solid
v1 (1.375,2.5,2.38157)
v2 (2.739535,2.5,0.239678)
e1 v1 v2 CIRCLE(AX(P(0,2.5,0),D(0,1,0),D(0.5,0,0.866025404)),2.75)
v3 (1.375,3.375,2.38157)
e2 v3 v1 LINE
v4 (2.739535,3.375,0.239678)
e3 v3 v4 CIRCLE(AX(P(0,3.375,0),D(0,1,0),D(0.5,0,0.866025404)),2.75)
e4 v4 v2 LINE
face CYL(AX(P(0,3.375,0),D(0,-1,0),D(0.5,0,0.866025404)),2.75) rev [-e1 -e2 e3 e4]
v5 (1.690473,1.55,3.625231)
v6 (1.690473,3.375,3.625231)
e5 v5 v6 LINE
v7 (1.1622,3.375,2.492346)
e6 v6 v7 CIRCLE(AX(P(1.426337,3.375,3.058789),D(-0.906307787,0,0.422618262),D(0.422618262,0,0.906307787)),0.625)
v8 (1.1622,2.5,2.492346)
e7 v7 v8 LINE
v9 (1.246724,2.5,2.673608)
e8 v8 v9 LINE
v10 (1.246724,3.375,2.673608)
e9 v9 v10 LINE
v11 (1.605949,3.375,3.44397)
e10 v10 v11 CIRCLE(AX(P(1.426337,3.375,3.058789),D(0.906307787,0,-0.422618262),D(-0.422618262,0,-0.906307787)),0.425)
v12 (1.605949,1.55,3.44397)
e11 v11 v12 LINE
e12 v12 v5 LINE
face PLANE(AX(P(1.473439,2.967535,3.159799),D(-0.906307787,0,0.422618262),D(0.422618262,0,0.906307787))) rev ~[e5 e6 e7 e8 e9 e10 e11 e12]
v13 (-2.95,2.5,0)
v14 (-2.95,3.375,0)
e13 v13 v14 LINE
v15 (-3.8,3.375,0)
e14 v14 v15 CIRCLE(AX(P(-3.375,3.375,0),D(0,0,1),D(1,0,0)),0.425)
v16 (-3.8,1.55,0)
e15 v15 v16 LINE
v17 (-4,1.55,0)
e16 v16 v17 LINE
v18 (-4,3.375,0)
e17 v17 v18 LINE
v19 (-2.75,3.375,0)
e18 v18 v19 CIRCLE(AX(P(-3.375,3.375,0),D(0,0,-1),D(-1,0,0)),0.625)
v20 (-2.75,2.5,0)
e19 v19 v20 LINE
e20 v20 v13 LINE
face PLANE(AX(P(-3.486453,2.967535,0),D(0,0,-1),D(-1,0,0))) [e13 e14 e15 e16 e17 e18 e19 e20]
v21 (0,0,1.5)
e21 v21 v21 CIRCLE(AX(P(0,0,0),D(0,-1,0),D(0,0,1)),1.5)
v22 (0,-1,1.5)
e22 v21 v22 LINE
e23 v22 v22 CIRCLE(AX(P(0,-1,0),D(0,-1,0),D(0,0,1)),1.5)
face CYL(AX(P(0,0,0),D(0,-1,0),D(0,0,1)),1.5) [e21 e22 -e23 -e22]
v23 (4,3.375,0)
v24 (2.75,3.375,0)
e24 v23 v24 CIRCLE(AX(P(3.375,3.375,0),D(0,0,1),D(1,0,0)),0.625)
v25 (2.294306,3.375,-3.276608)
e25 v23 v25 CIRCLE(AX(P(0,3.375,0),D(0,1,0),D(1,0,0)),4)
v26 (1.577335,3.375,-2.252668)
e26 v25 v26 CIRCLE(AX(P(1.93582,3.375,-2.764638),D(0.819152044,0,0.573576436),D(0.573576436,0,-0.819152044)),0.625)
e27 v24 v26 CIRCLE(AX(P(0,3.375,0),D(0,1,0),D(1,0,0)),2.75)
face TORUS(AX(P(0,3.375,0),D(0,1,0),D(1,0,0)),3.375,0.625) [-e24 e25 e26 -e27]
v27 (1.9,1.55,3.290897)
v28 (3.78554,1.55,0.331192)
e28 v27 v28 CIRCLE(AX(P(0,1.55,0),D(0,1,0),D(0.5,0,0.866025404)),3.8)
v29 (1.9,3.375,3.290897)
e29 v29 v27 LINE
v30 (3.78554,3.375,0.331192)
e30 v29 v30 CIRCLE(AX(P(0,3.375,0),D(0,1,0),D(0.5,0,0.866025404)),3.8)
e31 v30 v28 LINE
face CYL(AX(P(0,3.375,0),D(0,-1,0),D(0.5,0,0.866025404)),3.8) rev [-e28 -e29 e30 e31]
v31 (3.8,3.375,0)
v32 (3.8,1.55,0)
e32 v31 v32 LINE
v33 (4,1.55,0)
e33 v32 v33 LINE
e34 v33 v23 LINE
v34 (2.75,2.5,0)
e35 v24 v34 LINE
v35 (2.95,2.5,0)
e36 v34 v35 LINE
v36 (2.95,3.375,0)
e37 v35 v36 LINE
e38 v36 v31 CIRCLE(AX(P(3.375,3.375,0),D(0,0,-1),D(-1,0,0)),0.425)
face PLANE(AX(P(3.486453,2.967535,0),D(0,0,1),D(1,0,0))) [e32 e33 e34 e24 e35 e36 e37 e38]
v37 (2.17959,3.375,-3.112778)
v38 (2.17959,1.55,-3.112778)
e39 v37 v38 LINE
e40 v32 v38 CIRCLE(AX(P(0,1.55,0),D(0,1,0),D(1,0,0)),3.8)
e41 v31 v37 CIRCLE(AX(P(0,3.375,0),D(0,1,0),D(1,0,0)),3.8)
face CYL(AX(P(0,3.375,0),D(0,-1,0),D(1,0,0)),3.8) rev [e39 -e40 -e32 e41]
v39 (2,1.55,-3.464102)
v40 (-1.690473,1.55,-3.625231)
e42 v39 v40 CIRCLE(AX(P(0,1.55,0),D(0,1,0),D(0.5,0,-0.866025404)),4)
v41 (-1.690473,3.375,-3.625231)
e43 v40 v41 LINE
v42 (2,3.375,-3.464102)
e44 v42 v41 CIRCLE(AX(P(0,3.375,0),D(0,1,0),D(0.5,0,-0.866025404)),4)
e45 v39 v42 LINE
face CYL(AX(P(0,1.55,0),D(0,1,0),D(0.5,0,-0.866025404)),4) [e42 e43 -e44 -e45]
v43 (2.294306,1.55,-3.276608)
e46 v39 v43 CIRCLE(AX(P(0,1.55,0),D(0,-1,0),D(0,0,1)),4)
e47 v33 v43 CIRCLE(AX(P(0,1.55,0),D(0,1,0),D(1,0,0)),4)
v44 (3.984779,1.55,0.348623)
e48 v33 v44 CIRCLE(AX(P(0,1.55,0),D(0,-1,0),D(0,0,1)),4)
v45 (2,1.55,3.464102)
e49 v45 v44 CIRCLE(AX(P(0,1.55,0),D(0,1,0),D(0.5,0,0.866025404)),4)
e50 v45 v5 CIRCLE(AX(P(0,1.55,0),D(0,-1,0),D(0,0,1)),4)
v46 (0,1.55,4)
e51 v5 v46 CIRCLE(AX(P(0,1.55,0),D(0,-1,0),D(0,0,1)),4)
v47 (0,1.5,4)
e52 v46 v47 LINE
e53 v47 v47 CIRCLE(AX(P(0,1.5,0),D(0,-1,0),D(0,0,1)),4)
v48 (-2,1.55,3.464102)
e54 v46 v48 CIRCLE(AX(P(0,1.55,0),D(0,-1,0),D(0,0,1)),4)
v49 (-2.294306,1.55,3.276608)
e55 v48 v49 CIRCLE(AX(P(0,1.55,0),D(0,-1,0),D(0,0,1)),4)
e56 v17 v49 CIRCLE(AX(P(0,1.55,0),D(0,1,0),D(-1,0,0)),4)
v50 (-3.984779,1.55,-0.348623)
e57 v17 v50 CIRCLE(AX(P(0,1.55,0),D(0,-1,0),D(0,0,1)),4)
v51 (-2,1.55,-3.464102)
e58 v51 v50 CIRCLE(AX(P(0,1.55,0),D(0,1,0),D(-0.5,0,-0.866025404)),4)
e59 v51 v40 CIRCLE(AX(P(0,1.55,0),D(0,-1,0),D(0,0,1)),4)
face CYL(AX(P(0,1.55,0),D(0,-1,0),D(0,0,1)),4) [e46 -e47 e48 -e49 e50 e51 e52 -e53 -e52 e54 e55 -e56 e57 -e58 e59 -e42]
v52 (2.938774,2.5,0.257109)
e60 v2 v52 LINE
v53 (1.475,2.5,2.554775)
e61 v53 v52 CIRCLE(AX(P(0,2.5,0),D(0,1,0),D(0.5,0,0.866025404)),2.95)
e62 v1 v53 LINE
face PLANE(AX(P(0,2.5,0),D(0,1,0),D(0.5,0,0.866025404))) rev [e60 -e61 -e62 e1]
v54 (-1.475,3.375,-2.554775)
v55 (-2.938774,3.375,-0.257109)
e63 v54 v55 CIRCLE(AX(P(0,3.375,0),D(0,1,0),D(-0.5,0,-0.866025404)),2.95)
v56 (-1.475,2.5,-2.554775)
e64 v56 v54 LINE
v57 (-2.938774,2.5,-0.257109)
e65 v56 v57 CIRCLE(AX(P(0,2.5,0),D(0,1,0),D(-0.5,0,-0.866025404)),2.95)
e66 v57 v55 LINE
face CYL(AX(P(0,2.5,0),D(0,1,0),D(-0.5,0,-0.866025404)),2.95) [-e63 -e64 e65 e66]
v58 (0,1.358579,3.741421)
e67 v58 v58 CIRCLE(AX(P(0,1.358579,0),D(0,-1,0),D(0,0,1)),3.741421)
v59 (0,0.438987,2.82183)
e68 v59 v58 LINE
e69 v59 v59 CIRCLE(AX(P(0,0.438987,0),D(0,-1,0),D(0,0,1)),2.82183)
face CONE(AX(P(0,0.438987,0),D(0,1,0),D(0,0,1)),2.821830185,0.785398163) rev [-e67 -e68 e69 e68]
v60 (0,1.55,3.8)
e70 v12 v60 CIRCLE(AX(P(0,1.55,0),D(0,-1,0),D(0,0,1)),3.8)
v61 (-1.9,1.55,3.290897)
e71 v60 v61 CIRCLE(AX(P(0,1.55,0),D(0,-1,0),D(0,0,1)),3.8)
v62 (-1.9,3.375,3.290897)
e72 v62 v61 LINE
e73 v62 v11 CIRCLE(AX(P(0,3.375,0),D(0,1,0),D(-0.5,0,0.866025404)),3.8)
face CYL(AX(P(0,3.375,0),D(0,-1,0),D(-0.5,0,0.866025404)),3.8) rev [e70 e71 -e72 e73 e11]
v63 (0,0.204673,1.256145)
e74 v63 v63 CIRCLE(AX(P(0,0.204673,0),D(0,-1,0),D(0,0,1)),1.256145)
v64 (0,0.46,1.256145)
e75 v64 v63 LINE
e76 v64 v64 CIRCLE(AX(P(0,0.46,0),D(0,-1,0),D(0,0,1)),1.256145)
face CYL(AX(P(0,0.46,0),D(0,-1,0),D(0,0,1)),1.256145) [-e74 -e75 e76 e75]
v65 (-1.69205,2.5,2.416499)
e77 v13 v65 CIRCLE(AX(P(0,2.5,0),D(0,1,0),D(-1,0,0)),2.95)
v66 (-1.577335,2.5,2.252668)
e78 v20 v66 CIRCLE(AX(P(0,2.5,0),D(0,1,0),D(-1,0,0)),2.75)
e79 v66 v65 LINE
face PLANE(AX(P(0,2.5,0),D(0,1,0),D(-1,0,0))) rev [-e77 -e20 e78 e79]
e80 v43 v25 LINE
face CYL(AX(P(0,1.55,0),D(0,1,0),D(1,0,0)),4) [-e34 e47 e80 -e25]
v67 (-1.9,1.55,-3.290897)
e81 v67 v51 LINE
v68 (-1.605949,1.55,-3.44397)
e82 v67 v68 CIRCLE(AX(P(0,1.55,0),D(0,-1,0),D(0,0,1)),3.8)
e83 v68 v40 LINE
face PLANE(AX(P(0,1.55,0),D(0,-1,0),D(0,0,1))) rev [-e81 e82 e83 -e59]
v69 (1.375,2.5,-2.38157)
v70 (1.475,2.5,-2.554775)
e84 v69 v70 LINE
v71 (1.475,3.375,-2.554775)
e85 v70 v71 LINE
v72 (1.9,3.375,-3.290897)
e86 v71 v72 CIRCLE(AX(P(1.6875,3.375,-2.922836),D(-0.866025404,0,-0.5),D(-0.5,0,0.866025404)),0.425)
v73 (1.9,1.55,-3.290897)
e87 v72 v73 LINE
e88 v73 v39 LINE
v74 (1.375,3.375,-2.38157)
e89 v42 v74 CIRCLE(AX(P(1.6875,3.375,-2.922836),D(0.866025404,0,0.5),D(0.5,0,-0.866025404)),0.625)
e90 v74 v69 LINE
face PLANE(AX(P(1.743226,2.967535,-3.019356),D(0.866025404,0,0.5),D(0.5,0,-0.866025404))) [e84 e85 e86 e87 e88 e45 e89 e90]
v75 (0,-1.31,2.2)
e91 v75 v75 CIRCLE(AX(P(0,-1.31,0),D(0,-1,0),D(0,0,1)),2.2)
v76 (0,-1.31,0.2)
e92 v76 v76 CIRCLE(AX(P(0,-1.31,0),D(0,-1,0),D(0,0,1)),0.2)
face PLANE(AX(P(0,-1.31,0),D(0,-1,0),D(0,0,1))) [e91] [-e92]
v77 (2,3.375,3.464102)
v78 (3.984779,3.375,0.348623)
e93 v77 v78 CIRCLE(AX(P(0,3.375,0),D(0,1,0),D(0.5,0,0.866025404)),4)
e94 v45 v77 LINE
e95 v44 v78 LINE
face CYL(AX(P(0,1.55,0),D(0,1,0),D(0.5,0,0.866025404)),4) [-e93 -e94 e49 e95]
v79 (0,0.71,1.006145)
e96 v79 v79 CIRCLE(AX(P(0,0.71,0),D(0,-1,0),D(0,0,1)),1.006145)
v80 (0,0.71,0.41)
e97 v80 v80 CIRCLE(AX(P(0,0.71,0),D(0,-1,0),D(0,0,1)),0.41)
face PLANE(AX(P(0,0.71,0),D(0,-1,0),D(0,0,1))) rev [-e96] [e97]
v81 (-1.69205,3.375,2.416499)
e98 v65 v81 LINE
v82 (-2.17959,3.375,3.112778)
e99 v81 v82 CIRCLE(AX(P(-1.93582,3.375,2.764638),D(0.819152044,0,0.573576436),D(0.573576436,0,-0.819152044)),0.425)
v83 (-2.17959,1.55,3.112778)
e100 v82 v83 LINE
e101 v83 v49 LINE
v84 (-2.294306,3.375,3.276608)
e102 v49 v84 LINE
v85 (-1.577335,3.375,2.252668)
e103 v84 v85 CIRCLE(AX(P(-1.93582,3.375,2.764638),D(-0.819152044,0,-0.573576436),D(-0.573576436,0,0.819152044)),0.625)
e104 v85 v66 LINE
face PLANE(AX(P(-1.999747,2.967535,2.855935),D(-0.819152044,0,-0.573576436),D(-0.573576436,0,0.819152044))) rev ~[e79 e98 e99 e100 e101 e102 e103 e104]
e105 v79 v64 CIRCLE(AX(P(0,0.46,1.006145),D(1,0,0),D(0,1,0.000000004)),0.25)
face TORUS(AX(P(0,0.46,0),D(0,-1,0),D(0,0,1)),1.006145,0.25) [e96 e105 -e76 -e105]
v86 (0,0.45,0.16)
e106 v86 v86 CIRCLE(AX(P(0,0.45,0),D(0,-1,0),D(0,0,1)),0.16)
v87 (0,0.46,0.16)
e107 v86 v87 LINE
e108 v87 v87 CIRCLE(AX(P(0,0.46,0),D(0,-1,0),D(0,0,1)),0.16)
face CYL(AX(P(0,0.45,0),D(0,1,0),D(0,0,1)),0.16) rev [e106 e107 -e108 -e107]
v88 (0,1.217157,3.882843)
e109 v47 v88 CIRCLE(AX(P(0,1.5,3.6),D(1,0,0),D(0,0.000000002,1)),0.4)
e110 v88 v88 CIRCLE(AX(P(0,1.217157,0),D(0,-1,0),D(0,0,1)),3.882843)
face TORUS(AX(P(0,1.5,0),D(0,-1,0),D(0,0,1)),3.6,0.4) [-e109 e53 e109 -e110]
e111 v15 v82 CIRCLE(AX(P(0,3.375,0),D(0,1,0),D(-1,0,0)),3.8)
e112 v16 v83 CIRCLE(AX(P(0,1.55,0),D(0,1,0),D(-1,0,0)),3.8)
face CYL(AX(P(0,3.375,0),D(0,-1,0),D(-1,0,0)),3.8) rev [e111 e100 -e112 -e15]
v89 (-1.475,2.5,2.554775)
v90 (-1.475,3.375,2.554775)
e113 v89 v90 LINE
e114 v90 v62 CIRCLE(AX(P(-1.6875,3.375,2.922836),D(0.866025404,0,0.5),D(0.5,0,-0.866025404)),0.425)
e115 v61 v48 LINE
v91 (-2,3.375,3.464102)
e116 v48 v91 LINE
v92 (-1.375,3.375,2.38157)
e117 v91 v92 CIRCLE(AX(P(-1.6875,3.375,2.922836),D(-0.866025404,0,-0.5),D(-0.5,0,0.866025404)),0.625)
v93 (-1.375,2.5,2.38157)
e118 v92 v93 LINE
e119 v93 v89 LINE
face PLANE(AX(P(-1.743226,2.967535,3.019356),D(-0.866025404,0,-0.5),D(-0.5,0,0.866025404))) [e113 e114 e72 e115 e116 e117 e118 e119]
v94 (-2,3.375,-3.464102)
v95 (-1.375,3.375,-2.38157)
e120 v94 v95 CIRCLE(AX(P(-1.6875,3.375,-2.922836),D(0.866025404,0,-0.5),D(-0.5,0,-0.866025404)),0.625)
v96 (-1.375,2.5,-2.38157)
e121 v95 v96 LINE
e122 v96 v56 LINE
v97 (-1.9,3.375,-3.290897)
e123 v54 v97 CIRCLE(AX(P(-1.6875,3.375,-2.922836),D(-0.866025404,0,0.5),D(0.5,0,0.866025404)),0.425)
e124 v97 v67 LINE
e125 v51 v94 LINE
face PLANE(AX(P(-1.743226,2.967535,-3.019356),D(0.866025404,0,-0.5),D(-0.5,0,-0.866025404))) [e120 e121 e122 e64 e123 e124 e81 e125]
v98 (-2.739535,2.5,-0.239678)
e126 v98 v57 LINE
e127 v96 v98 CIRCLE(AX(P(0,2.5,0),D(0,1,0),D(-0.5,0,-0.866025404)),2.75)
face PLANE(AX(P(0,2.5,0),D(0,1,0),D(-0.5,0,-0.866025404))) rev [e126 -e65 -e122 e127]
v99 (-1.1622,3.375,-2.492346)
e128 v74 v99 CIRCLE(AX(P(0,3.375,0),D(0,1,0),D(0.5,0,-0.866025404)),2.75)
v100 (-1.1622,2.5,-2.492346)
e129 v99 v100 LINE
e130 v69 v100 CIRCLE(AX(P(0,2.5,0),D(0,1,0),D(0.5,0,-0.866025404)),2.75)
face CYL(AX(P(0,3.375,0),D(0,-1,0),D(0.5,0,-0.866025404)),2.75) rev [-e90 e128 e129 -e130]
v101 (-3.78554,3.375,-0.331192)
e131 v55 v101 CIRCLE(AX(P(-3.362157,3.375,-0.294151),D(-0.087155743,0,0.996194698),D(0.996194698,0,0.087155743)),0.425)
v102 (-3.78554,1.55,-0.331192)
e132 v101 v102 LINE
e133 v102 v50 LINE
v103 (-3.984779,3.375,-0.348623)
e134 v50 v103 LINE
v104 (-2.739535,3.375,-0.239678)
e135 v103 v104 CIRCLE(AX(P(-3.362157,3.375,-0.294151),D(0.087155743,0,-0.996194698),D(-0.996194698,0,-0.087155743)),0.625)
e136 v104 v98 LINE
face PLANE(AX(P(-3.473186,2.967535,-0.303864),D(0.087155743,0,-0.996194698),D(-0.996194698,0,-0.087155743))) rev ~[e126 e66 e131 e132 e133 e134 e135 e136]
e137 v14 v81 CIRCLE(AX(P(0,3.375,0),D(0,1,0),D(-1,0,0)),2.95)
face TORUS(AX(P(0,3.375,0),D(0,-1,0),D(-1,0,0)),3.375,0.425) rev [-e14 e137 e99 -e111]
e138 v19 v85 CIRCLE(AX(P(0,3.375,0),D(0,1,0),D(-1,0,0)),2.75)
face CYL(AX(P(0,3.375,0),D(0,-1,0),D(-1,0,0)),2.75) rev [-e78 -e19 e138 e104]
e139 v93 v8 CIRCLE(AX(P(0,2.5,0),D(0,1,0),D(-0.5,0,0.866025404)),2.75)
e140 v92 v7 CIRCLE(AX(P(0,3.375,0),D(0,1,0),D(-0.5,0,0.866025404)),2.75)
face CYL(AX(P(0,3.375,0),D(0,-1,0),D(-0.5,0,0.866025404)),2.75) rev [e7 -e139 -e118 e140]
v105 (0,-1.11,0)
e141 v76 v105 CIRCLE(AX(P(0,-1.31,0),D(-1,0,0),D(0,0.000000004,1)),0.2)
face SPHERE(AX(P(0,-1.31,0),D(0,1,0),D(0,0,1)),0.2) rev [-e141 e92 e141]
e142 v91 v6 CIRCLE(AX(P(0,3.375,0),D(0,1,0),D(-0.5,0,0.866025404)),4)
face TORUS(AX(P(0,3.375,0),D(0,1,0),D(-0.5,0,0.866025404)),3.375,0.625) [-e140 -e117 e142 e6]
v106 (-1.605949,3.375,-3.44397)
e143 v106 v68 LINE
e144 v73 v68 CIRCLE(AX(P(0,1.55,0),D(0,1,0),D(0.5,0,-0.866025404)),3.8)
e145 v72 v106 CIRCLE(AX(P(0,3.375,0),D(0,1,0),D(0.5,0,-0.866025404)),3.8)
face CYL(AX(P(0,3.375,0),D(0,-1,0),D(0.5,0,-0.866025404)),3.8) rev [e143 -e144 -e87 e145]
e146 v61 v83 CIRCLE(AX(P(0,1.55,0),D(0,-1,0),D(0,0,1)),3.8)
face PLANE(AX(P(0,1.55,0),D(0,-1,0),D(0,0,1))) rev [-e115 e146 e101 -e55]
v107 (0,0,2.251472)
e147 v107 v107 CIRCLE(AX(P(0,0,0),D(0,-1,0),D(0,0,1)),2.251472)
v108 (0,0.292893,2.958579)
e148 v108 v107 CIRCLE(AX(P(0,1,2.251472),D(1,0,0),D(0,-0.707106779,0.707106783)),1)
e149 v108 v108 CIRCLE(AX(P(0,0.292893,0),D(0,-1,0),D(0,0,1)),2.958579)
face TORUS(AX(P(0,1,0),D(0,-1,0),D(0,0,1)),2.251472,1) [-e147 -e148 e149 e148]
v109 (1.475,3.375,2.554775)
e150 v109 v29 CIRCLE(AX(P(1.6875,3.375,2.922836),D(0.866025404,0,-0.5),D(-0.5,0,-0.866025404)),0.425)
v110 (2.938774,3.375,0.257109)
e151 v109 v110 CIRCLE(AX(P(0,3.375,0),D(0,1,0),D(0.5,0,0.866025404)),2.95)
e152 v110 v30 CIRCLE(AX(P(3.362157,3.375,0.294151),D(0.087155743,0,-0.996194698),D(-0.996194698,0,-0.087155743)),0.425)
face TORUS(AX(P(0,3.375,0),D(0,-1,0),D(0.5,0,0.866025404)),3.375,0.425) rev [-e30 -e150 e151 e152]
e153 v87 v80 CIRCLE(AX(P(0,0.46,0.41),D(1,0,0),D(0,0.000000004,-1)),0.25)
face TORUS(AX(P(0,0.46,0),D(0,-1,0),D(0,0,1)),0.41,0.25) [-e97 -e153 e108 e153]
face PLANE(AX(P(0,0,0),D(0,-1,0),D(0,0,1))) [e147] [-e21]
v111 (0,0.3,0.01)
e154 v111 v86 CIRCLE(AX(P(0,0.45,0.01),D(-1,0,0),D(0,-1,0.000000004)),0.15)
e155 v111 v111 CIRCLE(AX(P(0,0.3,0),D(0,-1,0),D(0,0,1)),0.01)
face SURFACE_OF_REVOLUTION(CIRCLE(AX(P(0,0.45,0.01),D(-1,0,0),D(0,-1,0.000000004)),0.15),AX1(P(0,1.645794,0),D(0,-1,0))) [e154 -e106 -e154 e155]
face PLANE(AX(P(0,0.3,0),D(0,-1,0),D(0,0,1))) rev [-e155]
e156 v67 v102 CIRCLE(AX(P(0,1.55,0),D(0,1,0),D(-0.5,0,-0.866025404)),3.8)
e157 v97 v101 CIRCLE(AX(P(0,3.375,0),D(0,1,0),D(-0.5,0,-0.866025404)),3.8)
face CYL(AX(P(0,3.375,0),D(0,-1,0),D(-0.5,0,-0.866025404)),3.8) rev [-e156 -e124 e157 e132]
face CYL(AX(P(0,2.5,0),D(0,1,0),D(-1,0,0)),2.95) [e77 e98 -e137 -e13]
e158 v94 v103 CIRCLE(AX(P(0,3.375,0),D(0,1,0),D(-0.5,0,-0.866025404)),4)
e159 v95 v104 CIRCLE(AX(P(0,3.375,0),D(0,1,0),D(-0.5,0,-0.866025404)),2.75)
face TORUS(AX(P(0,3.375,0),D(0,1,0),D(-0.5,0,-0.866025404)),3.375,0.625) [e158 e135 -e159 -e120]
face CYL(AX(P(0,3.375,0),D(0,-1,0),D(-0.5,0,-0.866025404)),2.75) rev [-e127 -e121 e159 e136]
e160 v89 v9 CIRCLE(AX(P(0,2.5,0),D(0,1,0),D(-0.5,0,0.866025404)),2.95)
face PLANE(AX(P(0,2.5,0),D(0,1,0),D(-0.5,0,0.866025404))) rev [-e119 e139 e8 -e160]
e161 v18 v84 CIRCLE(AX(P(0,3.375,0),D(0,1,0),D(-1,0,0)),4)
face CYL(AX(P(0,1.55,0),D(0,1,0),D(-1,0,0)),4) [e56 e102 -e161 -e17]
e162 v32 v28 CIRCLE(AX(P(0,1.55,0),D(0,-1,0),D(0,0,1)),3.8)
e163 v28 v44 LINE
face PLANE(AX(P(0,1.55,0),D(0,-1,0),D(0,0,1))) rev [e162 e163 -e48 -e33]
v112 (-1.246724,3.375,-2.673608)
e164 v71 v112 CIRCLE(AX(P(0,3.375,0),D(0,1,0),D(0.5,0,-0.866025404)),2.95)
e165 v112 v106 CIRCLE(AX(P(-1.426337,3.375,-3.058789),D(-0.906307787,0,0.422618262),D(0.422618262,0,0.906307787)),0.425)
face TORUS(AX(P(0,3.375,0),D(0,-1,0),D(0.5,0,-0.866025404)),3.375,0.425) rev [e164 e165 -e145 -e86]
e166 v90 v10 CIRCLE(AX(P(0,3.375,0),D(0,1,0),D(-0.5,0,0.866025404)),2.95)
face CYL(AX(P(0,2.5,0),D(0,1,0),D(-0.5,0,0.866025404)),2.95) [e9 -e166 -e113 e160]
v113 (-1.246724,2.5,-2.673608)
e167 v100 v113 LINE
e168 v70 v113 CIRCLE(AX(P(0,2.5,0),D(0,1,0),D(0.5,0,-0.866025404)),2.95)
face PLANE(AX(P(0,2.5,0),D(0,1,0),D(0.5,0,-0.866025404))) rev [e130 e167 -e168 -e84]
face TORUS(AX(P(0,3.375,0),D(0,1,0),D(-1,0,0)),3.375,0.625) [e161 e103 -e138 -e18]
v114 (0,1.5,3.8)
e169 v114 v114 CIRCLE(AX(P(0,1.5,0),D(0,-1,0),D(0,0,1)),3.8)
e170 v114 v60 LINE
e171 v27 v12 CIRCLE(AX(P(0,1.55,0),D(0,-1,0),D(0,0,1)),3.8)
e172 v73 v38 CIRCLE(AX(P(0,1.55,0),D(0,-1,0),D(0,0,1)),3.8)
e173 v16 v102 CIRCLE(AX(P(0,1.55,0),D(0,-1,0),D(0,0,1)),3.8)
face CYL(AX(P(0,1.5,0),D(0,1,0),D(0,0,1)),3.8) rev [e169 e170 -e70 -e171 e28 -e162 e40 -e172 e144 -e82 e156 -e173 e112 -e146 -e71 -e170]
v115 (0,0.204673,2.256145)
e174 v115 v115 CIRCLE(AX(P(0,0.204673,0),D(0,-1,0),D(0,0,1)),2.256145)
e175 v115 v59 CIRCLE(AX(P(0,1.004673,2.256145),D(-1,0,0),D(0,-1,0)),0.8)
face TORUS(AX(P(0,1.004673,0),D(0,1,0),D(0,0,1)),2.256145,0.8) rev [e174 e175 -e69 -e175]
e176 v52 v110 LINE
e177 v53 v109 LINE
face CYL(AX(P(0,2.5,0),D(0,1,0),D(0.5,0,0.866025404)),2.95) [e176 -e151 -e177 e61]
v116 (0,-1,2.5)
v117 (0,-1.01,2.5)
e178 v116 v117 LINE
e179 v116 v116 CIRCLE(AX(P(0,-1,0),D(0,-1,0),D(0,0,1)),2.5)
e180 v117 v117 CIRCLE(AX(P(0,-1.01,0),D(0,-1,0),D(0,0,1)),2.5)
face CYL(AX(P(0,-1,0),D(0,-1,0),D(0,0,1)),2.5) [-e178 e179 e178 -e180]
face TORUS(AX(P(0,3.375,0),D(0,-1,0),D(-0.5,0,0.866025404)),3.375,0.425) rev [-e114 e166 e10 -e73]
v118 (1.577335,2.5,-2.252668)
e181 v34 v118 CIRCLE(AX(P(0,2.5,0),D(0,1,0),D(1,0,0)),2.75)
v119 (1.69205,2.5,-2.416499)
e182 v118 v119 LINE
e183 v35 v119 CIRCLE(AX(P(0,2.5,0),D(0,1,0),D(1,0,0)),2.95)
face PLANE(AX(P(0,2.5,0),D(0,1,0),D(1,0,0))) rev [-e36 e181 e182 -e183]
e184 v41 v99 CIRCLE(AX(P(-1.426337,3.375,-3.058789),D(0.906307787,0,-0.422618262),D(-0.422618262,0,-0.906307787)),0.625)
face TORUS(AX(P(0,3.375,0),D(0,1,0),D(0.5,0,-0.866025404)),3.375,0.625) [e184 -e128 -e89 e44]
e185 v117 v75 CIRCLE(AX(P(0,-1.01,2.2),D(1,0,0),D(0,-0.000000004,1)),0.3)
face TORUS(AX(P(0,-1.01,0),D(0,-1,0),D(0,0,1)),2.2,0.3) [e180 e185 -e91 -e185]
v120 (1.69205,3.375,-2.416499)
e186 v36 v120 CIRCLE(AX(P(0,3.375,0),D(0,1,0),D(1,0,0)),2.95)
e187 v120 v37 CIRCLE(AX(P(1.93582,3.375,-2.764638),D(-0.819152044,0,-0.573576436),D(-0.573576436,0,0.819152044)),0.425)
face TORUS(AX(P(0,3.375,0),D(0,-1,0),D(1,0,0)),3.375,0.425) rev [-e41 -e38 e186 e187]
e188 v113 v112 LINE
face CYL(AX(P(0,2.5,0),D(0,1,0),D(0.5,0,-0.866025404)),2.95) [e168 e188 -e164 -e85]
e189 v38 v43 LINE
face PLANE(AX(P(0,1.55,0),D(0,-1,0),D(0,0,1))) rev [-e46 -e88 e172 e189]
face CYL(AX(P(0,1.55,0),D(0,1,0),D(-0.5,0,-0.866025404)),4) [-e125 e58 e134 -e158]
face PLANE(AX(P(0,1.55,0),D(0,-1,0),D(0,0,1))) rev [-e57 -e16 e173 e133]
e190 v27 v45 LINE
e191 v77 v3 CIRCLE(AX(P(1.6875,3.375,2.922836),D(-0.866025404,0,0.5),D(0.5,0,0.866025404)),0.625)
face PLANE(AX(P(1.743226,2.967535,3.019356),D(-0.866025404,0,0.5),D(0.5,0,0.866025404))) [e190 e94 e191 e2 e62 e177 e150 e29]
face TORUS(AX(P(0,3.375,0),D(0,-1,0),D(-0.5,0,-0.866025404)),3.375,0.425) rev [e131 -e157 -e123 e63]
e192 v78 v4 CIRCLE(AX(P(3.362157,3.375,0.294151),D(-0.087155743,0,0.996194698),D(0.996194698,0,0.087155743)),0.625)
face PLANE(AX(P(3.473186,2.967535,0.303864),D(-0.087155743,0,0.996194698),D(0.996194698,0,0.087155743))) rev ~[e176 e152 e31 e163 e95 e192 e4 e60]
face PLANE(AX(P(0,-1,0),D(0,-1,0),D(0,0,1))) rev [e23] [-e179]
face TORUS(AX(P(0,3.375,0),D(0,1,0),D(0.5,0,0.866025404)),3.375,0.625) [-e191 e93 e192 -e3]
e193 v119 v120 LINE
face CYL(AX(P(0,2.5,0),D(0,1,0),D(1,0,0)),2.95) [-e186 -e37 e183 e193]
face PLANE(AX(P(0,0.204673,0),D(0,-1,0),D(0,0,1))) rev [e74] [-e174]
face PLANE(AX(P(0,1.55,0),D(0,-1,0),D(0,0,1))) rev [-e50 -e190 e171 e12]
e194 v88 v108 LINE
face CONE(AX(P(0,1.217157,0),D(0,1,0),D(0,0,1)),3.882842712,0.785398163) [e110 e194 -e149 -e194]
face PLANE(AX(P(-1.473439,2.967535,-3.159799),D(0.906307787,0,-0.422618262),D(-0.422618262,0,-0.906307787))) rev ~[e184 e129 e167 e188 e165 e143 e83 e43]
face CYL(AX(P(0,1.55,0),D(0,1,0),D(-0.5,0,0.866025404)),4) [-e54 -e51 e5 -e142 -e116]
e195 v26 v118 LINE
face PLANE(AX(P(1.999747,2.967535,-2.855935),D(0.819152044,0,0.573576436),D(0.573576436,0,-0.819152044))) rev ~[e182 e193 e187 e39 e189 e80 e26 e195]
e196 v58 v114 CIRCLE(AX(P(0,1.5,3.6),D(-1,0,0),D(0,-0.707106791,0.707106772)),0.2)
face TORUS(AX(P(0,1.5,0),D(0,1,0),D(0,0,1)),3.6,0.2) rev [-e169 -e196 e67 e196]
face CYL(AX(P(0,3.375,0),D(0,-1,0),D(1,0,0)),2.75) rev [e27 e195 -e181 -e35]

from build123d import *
from build123d.topology import SkipClean

# Parameters (mm, degrees)
R_VOLUTION2_ANGLE            = 55
R_P_TITION_CIRCULAIRE1_COUNT = 6


with BuildPart() as part:
    # Esquisse1 → Révolution1 (revolve)
    with BuildSketch(Plane.XY, mode=Mode.PRIVATE) as r_volution1_sk:
        with BuildLine():
            Line((0, 0), (0, 0.3))
            Line((0, 0.3), (0.01, 0.3))
            ThreePointArc((0.01, 0.3), (0.116066017, 0.343933983), (0.16, 0.45))
            Line((0.16, 0.45), (0.16, 0.46))
            ThreePointArc((0.16, 0.46), (0.233223305, 0.636776695), (0.41, 0.71))
            Line((0.41, 0.71), (1.00614476, 0.71))
            ThreePointArc((1.00614476, 0.71), (1.182921455, 0.636776695), (1.25614476, 0.46))
            Line((1.25614476, 0.46), (1.25614476, 0.204672897))
            Line((1.25614476, 0.204672897), (2.25614476, 0.204672897))
            ThreePointArc((2.25614476, 0.204672897), (2.562291506, 0.265569271), (2.821830185, 0.438987472))
            Line((2.821830185, 0.438987472), (3.741421356, 1.358578644))
            ThreePointArc((3.741421356, 1.358578644), (3.784775907, 1.423463314), (3.8, 1.5))
            Line((3.8, 1.5), (3.8, 1.55))
            Line((3.8, 1.55), (4, 1.55))
            Line((4, 1.55), (4, 1.5))
            ThreePointArc((4, 1.5), (3.969551813, 1.346926627), (3.882842712, 1.217157288))
            Line((3.882842712, 1.217157288), (2.958578644, 0.292893219))
            ThreePointArc((2.958578644, 0.292893219), (2.634155295, 0.076120467), (2.251471863, 0))
            Line((2.251471863, 0), (1.5, 0))
            Line((1.5, 0), (1.5, -1))
            Line((1.5, -1), (2.5, -1))
            Line((2.5, -1), (2.5, -1.01))
            ThreePointArc((2.5, -1.01), (2.412132034, -1.222132034), (2.2, -1.31))
            Line((2.2, -1.31), (0.2, -1.31))
            ThreePointArc((0.2, -1.31), (0.141421356, -1.168578644), (0, -1.11))
            Line((0, -1.11), (0, 0))
        make_face()
    revolve(r_volution1_sk.sketch.rotate(Axis((0, 1.645794393, 0), (0, -1, 0)), 90), axis=Axis((0, 1.645794393, 0), (0, -1, 0)))

    # Esquisse2 → Révolution2 (revolve)
    with BuildSketch(Plane.XY):
        with BuildLine():
            Line((4, 1.55), (4, 3.375))
            ThreePointArc((4, 3.375), (3.375, 4), (2.75, 3.375))
            Line((2.75, 3.375), (2.75, 2.5))
            Line((2.75, 2.5), (2.95, 2.5))
            Line((2.95, 2.5), (2.95, 3.375))
            ThreePointArc((2.95, 3.375), (3.375, 3.8), (3.8, 3.375))
            Line((3.8, 3.375), (3.8, 1.55))
            Line((3.8, 1.55), (4, 1.55))
        make_face()
    r_volution2 = revolve(axis=Axis((0, -1.596636686, 0), (0, 1, 0)), revolution_arc=R_VOLUTION2_ANGLE)

    # Répétition circulaire1: Révolution2 ×6 about axis
    with SkipClean():  # the faces are left unmerged after this step: merging them gives an invalid solid
        r_p_tition_circulaire1_axis = Axis((0, 0, 0), (0, 1, 0))
        for i in range(1, R_P_TITION_CIRCULAIRE1_COUNT):
            add(r_volution2.rotate(r_p_tition_circulaire1_axis, i * 360 / R_P_TITION_CIRCULAIRE1_COUNT))


solid = part.part
